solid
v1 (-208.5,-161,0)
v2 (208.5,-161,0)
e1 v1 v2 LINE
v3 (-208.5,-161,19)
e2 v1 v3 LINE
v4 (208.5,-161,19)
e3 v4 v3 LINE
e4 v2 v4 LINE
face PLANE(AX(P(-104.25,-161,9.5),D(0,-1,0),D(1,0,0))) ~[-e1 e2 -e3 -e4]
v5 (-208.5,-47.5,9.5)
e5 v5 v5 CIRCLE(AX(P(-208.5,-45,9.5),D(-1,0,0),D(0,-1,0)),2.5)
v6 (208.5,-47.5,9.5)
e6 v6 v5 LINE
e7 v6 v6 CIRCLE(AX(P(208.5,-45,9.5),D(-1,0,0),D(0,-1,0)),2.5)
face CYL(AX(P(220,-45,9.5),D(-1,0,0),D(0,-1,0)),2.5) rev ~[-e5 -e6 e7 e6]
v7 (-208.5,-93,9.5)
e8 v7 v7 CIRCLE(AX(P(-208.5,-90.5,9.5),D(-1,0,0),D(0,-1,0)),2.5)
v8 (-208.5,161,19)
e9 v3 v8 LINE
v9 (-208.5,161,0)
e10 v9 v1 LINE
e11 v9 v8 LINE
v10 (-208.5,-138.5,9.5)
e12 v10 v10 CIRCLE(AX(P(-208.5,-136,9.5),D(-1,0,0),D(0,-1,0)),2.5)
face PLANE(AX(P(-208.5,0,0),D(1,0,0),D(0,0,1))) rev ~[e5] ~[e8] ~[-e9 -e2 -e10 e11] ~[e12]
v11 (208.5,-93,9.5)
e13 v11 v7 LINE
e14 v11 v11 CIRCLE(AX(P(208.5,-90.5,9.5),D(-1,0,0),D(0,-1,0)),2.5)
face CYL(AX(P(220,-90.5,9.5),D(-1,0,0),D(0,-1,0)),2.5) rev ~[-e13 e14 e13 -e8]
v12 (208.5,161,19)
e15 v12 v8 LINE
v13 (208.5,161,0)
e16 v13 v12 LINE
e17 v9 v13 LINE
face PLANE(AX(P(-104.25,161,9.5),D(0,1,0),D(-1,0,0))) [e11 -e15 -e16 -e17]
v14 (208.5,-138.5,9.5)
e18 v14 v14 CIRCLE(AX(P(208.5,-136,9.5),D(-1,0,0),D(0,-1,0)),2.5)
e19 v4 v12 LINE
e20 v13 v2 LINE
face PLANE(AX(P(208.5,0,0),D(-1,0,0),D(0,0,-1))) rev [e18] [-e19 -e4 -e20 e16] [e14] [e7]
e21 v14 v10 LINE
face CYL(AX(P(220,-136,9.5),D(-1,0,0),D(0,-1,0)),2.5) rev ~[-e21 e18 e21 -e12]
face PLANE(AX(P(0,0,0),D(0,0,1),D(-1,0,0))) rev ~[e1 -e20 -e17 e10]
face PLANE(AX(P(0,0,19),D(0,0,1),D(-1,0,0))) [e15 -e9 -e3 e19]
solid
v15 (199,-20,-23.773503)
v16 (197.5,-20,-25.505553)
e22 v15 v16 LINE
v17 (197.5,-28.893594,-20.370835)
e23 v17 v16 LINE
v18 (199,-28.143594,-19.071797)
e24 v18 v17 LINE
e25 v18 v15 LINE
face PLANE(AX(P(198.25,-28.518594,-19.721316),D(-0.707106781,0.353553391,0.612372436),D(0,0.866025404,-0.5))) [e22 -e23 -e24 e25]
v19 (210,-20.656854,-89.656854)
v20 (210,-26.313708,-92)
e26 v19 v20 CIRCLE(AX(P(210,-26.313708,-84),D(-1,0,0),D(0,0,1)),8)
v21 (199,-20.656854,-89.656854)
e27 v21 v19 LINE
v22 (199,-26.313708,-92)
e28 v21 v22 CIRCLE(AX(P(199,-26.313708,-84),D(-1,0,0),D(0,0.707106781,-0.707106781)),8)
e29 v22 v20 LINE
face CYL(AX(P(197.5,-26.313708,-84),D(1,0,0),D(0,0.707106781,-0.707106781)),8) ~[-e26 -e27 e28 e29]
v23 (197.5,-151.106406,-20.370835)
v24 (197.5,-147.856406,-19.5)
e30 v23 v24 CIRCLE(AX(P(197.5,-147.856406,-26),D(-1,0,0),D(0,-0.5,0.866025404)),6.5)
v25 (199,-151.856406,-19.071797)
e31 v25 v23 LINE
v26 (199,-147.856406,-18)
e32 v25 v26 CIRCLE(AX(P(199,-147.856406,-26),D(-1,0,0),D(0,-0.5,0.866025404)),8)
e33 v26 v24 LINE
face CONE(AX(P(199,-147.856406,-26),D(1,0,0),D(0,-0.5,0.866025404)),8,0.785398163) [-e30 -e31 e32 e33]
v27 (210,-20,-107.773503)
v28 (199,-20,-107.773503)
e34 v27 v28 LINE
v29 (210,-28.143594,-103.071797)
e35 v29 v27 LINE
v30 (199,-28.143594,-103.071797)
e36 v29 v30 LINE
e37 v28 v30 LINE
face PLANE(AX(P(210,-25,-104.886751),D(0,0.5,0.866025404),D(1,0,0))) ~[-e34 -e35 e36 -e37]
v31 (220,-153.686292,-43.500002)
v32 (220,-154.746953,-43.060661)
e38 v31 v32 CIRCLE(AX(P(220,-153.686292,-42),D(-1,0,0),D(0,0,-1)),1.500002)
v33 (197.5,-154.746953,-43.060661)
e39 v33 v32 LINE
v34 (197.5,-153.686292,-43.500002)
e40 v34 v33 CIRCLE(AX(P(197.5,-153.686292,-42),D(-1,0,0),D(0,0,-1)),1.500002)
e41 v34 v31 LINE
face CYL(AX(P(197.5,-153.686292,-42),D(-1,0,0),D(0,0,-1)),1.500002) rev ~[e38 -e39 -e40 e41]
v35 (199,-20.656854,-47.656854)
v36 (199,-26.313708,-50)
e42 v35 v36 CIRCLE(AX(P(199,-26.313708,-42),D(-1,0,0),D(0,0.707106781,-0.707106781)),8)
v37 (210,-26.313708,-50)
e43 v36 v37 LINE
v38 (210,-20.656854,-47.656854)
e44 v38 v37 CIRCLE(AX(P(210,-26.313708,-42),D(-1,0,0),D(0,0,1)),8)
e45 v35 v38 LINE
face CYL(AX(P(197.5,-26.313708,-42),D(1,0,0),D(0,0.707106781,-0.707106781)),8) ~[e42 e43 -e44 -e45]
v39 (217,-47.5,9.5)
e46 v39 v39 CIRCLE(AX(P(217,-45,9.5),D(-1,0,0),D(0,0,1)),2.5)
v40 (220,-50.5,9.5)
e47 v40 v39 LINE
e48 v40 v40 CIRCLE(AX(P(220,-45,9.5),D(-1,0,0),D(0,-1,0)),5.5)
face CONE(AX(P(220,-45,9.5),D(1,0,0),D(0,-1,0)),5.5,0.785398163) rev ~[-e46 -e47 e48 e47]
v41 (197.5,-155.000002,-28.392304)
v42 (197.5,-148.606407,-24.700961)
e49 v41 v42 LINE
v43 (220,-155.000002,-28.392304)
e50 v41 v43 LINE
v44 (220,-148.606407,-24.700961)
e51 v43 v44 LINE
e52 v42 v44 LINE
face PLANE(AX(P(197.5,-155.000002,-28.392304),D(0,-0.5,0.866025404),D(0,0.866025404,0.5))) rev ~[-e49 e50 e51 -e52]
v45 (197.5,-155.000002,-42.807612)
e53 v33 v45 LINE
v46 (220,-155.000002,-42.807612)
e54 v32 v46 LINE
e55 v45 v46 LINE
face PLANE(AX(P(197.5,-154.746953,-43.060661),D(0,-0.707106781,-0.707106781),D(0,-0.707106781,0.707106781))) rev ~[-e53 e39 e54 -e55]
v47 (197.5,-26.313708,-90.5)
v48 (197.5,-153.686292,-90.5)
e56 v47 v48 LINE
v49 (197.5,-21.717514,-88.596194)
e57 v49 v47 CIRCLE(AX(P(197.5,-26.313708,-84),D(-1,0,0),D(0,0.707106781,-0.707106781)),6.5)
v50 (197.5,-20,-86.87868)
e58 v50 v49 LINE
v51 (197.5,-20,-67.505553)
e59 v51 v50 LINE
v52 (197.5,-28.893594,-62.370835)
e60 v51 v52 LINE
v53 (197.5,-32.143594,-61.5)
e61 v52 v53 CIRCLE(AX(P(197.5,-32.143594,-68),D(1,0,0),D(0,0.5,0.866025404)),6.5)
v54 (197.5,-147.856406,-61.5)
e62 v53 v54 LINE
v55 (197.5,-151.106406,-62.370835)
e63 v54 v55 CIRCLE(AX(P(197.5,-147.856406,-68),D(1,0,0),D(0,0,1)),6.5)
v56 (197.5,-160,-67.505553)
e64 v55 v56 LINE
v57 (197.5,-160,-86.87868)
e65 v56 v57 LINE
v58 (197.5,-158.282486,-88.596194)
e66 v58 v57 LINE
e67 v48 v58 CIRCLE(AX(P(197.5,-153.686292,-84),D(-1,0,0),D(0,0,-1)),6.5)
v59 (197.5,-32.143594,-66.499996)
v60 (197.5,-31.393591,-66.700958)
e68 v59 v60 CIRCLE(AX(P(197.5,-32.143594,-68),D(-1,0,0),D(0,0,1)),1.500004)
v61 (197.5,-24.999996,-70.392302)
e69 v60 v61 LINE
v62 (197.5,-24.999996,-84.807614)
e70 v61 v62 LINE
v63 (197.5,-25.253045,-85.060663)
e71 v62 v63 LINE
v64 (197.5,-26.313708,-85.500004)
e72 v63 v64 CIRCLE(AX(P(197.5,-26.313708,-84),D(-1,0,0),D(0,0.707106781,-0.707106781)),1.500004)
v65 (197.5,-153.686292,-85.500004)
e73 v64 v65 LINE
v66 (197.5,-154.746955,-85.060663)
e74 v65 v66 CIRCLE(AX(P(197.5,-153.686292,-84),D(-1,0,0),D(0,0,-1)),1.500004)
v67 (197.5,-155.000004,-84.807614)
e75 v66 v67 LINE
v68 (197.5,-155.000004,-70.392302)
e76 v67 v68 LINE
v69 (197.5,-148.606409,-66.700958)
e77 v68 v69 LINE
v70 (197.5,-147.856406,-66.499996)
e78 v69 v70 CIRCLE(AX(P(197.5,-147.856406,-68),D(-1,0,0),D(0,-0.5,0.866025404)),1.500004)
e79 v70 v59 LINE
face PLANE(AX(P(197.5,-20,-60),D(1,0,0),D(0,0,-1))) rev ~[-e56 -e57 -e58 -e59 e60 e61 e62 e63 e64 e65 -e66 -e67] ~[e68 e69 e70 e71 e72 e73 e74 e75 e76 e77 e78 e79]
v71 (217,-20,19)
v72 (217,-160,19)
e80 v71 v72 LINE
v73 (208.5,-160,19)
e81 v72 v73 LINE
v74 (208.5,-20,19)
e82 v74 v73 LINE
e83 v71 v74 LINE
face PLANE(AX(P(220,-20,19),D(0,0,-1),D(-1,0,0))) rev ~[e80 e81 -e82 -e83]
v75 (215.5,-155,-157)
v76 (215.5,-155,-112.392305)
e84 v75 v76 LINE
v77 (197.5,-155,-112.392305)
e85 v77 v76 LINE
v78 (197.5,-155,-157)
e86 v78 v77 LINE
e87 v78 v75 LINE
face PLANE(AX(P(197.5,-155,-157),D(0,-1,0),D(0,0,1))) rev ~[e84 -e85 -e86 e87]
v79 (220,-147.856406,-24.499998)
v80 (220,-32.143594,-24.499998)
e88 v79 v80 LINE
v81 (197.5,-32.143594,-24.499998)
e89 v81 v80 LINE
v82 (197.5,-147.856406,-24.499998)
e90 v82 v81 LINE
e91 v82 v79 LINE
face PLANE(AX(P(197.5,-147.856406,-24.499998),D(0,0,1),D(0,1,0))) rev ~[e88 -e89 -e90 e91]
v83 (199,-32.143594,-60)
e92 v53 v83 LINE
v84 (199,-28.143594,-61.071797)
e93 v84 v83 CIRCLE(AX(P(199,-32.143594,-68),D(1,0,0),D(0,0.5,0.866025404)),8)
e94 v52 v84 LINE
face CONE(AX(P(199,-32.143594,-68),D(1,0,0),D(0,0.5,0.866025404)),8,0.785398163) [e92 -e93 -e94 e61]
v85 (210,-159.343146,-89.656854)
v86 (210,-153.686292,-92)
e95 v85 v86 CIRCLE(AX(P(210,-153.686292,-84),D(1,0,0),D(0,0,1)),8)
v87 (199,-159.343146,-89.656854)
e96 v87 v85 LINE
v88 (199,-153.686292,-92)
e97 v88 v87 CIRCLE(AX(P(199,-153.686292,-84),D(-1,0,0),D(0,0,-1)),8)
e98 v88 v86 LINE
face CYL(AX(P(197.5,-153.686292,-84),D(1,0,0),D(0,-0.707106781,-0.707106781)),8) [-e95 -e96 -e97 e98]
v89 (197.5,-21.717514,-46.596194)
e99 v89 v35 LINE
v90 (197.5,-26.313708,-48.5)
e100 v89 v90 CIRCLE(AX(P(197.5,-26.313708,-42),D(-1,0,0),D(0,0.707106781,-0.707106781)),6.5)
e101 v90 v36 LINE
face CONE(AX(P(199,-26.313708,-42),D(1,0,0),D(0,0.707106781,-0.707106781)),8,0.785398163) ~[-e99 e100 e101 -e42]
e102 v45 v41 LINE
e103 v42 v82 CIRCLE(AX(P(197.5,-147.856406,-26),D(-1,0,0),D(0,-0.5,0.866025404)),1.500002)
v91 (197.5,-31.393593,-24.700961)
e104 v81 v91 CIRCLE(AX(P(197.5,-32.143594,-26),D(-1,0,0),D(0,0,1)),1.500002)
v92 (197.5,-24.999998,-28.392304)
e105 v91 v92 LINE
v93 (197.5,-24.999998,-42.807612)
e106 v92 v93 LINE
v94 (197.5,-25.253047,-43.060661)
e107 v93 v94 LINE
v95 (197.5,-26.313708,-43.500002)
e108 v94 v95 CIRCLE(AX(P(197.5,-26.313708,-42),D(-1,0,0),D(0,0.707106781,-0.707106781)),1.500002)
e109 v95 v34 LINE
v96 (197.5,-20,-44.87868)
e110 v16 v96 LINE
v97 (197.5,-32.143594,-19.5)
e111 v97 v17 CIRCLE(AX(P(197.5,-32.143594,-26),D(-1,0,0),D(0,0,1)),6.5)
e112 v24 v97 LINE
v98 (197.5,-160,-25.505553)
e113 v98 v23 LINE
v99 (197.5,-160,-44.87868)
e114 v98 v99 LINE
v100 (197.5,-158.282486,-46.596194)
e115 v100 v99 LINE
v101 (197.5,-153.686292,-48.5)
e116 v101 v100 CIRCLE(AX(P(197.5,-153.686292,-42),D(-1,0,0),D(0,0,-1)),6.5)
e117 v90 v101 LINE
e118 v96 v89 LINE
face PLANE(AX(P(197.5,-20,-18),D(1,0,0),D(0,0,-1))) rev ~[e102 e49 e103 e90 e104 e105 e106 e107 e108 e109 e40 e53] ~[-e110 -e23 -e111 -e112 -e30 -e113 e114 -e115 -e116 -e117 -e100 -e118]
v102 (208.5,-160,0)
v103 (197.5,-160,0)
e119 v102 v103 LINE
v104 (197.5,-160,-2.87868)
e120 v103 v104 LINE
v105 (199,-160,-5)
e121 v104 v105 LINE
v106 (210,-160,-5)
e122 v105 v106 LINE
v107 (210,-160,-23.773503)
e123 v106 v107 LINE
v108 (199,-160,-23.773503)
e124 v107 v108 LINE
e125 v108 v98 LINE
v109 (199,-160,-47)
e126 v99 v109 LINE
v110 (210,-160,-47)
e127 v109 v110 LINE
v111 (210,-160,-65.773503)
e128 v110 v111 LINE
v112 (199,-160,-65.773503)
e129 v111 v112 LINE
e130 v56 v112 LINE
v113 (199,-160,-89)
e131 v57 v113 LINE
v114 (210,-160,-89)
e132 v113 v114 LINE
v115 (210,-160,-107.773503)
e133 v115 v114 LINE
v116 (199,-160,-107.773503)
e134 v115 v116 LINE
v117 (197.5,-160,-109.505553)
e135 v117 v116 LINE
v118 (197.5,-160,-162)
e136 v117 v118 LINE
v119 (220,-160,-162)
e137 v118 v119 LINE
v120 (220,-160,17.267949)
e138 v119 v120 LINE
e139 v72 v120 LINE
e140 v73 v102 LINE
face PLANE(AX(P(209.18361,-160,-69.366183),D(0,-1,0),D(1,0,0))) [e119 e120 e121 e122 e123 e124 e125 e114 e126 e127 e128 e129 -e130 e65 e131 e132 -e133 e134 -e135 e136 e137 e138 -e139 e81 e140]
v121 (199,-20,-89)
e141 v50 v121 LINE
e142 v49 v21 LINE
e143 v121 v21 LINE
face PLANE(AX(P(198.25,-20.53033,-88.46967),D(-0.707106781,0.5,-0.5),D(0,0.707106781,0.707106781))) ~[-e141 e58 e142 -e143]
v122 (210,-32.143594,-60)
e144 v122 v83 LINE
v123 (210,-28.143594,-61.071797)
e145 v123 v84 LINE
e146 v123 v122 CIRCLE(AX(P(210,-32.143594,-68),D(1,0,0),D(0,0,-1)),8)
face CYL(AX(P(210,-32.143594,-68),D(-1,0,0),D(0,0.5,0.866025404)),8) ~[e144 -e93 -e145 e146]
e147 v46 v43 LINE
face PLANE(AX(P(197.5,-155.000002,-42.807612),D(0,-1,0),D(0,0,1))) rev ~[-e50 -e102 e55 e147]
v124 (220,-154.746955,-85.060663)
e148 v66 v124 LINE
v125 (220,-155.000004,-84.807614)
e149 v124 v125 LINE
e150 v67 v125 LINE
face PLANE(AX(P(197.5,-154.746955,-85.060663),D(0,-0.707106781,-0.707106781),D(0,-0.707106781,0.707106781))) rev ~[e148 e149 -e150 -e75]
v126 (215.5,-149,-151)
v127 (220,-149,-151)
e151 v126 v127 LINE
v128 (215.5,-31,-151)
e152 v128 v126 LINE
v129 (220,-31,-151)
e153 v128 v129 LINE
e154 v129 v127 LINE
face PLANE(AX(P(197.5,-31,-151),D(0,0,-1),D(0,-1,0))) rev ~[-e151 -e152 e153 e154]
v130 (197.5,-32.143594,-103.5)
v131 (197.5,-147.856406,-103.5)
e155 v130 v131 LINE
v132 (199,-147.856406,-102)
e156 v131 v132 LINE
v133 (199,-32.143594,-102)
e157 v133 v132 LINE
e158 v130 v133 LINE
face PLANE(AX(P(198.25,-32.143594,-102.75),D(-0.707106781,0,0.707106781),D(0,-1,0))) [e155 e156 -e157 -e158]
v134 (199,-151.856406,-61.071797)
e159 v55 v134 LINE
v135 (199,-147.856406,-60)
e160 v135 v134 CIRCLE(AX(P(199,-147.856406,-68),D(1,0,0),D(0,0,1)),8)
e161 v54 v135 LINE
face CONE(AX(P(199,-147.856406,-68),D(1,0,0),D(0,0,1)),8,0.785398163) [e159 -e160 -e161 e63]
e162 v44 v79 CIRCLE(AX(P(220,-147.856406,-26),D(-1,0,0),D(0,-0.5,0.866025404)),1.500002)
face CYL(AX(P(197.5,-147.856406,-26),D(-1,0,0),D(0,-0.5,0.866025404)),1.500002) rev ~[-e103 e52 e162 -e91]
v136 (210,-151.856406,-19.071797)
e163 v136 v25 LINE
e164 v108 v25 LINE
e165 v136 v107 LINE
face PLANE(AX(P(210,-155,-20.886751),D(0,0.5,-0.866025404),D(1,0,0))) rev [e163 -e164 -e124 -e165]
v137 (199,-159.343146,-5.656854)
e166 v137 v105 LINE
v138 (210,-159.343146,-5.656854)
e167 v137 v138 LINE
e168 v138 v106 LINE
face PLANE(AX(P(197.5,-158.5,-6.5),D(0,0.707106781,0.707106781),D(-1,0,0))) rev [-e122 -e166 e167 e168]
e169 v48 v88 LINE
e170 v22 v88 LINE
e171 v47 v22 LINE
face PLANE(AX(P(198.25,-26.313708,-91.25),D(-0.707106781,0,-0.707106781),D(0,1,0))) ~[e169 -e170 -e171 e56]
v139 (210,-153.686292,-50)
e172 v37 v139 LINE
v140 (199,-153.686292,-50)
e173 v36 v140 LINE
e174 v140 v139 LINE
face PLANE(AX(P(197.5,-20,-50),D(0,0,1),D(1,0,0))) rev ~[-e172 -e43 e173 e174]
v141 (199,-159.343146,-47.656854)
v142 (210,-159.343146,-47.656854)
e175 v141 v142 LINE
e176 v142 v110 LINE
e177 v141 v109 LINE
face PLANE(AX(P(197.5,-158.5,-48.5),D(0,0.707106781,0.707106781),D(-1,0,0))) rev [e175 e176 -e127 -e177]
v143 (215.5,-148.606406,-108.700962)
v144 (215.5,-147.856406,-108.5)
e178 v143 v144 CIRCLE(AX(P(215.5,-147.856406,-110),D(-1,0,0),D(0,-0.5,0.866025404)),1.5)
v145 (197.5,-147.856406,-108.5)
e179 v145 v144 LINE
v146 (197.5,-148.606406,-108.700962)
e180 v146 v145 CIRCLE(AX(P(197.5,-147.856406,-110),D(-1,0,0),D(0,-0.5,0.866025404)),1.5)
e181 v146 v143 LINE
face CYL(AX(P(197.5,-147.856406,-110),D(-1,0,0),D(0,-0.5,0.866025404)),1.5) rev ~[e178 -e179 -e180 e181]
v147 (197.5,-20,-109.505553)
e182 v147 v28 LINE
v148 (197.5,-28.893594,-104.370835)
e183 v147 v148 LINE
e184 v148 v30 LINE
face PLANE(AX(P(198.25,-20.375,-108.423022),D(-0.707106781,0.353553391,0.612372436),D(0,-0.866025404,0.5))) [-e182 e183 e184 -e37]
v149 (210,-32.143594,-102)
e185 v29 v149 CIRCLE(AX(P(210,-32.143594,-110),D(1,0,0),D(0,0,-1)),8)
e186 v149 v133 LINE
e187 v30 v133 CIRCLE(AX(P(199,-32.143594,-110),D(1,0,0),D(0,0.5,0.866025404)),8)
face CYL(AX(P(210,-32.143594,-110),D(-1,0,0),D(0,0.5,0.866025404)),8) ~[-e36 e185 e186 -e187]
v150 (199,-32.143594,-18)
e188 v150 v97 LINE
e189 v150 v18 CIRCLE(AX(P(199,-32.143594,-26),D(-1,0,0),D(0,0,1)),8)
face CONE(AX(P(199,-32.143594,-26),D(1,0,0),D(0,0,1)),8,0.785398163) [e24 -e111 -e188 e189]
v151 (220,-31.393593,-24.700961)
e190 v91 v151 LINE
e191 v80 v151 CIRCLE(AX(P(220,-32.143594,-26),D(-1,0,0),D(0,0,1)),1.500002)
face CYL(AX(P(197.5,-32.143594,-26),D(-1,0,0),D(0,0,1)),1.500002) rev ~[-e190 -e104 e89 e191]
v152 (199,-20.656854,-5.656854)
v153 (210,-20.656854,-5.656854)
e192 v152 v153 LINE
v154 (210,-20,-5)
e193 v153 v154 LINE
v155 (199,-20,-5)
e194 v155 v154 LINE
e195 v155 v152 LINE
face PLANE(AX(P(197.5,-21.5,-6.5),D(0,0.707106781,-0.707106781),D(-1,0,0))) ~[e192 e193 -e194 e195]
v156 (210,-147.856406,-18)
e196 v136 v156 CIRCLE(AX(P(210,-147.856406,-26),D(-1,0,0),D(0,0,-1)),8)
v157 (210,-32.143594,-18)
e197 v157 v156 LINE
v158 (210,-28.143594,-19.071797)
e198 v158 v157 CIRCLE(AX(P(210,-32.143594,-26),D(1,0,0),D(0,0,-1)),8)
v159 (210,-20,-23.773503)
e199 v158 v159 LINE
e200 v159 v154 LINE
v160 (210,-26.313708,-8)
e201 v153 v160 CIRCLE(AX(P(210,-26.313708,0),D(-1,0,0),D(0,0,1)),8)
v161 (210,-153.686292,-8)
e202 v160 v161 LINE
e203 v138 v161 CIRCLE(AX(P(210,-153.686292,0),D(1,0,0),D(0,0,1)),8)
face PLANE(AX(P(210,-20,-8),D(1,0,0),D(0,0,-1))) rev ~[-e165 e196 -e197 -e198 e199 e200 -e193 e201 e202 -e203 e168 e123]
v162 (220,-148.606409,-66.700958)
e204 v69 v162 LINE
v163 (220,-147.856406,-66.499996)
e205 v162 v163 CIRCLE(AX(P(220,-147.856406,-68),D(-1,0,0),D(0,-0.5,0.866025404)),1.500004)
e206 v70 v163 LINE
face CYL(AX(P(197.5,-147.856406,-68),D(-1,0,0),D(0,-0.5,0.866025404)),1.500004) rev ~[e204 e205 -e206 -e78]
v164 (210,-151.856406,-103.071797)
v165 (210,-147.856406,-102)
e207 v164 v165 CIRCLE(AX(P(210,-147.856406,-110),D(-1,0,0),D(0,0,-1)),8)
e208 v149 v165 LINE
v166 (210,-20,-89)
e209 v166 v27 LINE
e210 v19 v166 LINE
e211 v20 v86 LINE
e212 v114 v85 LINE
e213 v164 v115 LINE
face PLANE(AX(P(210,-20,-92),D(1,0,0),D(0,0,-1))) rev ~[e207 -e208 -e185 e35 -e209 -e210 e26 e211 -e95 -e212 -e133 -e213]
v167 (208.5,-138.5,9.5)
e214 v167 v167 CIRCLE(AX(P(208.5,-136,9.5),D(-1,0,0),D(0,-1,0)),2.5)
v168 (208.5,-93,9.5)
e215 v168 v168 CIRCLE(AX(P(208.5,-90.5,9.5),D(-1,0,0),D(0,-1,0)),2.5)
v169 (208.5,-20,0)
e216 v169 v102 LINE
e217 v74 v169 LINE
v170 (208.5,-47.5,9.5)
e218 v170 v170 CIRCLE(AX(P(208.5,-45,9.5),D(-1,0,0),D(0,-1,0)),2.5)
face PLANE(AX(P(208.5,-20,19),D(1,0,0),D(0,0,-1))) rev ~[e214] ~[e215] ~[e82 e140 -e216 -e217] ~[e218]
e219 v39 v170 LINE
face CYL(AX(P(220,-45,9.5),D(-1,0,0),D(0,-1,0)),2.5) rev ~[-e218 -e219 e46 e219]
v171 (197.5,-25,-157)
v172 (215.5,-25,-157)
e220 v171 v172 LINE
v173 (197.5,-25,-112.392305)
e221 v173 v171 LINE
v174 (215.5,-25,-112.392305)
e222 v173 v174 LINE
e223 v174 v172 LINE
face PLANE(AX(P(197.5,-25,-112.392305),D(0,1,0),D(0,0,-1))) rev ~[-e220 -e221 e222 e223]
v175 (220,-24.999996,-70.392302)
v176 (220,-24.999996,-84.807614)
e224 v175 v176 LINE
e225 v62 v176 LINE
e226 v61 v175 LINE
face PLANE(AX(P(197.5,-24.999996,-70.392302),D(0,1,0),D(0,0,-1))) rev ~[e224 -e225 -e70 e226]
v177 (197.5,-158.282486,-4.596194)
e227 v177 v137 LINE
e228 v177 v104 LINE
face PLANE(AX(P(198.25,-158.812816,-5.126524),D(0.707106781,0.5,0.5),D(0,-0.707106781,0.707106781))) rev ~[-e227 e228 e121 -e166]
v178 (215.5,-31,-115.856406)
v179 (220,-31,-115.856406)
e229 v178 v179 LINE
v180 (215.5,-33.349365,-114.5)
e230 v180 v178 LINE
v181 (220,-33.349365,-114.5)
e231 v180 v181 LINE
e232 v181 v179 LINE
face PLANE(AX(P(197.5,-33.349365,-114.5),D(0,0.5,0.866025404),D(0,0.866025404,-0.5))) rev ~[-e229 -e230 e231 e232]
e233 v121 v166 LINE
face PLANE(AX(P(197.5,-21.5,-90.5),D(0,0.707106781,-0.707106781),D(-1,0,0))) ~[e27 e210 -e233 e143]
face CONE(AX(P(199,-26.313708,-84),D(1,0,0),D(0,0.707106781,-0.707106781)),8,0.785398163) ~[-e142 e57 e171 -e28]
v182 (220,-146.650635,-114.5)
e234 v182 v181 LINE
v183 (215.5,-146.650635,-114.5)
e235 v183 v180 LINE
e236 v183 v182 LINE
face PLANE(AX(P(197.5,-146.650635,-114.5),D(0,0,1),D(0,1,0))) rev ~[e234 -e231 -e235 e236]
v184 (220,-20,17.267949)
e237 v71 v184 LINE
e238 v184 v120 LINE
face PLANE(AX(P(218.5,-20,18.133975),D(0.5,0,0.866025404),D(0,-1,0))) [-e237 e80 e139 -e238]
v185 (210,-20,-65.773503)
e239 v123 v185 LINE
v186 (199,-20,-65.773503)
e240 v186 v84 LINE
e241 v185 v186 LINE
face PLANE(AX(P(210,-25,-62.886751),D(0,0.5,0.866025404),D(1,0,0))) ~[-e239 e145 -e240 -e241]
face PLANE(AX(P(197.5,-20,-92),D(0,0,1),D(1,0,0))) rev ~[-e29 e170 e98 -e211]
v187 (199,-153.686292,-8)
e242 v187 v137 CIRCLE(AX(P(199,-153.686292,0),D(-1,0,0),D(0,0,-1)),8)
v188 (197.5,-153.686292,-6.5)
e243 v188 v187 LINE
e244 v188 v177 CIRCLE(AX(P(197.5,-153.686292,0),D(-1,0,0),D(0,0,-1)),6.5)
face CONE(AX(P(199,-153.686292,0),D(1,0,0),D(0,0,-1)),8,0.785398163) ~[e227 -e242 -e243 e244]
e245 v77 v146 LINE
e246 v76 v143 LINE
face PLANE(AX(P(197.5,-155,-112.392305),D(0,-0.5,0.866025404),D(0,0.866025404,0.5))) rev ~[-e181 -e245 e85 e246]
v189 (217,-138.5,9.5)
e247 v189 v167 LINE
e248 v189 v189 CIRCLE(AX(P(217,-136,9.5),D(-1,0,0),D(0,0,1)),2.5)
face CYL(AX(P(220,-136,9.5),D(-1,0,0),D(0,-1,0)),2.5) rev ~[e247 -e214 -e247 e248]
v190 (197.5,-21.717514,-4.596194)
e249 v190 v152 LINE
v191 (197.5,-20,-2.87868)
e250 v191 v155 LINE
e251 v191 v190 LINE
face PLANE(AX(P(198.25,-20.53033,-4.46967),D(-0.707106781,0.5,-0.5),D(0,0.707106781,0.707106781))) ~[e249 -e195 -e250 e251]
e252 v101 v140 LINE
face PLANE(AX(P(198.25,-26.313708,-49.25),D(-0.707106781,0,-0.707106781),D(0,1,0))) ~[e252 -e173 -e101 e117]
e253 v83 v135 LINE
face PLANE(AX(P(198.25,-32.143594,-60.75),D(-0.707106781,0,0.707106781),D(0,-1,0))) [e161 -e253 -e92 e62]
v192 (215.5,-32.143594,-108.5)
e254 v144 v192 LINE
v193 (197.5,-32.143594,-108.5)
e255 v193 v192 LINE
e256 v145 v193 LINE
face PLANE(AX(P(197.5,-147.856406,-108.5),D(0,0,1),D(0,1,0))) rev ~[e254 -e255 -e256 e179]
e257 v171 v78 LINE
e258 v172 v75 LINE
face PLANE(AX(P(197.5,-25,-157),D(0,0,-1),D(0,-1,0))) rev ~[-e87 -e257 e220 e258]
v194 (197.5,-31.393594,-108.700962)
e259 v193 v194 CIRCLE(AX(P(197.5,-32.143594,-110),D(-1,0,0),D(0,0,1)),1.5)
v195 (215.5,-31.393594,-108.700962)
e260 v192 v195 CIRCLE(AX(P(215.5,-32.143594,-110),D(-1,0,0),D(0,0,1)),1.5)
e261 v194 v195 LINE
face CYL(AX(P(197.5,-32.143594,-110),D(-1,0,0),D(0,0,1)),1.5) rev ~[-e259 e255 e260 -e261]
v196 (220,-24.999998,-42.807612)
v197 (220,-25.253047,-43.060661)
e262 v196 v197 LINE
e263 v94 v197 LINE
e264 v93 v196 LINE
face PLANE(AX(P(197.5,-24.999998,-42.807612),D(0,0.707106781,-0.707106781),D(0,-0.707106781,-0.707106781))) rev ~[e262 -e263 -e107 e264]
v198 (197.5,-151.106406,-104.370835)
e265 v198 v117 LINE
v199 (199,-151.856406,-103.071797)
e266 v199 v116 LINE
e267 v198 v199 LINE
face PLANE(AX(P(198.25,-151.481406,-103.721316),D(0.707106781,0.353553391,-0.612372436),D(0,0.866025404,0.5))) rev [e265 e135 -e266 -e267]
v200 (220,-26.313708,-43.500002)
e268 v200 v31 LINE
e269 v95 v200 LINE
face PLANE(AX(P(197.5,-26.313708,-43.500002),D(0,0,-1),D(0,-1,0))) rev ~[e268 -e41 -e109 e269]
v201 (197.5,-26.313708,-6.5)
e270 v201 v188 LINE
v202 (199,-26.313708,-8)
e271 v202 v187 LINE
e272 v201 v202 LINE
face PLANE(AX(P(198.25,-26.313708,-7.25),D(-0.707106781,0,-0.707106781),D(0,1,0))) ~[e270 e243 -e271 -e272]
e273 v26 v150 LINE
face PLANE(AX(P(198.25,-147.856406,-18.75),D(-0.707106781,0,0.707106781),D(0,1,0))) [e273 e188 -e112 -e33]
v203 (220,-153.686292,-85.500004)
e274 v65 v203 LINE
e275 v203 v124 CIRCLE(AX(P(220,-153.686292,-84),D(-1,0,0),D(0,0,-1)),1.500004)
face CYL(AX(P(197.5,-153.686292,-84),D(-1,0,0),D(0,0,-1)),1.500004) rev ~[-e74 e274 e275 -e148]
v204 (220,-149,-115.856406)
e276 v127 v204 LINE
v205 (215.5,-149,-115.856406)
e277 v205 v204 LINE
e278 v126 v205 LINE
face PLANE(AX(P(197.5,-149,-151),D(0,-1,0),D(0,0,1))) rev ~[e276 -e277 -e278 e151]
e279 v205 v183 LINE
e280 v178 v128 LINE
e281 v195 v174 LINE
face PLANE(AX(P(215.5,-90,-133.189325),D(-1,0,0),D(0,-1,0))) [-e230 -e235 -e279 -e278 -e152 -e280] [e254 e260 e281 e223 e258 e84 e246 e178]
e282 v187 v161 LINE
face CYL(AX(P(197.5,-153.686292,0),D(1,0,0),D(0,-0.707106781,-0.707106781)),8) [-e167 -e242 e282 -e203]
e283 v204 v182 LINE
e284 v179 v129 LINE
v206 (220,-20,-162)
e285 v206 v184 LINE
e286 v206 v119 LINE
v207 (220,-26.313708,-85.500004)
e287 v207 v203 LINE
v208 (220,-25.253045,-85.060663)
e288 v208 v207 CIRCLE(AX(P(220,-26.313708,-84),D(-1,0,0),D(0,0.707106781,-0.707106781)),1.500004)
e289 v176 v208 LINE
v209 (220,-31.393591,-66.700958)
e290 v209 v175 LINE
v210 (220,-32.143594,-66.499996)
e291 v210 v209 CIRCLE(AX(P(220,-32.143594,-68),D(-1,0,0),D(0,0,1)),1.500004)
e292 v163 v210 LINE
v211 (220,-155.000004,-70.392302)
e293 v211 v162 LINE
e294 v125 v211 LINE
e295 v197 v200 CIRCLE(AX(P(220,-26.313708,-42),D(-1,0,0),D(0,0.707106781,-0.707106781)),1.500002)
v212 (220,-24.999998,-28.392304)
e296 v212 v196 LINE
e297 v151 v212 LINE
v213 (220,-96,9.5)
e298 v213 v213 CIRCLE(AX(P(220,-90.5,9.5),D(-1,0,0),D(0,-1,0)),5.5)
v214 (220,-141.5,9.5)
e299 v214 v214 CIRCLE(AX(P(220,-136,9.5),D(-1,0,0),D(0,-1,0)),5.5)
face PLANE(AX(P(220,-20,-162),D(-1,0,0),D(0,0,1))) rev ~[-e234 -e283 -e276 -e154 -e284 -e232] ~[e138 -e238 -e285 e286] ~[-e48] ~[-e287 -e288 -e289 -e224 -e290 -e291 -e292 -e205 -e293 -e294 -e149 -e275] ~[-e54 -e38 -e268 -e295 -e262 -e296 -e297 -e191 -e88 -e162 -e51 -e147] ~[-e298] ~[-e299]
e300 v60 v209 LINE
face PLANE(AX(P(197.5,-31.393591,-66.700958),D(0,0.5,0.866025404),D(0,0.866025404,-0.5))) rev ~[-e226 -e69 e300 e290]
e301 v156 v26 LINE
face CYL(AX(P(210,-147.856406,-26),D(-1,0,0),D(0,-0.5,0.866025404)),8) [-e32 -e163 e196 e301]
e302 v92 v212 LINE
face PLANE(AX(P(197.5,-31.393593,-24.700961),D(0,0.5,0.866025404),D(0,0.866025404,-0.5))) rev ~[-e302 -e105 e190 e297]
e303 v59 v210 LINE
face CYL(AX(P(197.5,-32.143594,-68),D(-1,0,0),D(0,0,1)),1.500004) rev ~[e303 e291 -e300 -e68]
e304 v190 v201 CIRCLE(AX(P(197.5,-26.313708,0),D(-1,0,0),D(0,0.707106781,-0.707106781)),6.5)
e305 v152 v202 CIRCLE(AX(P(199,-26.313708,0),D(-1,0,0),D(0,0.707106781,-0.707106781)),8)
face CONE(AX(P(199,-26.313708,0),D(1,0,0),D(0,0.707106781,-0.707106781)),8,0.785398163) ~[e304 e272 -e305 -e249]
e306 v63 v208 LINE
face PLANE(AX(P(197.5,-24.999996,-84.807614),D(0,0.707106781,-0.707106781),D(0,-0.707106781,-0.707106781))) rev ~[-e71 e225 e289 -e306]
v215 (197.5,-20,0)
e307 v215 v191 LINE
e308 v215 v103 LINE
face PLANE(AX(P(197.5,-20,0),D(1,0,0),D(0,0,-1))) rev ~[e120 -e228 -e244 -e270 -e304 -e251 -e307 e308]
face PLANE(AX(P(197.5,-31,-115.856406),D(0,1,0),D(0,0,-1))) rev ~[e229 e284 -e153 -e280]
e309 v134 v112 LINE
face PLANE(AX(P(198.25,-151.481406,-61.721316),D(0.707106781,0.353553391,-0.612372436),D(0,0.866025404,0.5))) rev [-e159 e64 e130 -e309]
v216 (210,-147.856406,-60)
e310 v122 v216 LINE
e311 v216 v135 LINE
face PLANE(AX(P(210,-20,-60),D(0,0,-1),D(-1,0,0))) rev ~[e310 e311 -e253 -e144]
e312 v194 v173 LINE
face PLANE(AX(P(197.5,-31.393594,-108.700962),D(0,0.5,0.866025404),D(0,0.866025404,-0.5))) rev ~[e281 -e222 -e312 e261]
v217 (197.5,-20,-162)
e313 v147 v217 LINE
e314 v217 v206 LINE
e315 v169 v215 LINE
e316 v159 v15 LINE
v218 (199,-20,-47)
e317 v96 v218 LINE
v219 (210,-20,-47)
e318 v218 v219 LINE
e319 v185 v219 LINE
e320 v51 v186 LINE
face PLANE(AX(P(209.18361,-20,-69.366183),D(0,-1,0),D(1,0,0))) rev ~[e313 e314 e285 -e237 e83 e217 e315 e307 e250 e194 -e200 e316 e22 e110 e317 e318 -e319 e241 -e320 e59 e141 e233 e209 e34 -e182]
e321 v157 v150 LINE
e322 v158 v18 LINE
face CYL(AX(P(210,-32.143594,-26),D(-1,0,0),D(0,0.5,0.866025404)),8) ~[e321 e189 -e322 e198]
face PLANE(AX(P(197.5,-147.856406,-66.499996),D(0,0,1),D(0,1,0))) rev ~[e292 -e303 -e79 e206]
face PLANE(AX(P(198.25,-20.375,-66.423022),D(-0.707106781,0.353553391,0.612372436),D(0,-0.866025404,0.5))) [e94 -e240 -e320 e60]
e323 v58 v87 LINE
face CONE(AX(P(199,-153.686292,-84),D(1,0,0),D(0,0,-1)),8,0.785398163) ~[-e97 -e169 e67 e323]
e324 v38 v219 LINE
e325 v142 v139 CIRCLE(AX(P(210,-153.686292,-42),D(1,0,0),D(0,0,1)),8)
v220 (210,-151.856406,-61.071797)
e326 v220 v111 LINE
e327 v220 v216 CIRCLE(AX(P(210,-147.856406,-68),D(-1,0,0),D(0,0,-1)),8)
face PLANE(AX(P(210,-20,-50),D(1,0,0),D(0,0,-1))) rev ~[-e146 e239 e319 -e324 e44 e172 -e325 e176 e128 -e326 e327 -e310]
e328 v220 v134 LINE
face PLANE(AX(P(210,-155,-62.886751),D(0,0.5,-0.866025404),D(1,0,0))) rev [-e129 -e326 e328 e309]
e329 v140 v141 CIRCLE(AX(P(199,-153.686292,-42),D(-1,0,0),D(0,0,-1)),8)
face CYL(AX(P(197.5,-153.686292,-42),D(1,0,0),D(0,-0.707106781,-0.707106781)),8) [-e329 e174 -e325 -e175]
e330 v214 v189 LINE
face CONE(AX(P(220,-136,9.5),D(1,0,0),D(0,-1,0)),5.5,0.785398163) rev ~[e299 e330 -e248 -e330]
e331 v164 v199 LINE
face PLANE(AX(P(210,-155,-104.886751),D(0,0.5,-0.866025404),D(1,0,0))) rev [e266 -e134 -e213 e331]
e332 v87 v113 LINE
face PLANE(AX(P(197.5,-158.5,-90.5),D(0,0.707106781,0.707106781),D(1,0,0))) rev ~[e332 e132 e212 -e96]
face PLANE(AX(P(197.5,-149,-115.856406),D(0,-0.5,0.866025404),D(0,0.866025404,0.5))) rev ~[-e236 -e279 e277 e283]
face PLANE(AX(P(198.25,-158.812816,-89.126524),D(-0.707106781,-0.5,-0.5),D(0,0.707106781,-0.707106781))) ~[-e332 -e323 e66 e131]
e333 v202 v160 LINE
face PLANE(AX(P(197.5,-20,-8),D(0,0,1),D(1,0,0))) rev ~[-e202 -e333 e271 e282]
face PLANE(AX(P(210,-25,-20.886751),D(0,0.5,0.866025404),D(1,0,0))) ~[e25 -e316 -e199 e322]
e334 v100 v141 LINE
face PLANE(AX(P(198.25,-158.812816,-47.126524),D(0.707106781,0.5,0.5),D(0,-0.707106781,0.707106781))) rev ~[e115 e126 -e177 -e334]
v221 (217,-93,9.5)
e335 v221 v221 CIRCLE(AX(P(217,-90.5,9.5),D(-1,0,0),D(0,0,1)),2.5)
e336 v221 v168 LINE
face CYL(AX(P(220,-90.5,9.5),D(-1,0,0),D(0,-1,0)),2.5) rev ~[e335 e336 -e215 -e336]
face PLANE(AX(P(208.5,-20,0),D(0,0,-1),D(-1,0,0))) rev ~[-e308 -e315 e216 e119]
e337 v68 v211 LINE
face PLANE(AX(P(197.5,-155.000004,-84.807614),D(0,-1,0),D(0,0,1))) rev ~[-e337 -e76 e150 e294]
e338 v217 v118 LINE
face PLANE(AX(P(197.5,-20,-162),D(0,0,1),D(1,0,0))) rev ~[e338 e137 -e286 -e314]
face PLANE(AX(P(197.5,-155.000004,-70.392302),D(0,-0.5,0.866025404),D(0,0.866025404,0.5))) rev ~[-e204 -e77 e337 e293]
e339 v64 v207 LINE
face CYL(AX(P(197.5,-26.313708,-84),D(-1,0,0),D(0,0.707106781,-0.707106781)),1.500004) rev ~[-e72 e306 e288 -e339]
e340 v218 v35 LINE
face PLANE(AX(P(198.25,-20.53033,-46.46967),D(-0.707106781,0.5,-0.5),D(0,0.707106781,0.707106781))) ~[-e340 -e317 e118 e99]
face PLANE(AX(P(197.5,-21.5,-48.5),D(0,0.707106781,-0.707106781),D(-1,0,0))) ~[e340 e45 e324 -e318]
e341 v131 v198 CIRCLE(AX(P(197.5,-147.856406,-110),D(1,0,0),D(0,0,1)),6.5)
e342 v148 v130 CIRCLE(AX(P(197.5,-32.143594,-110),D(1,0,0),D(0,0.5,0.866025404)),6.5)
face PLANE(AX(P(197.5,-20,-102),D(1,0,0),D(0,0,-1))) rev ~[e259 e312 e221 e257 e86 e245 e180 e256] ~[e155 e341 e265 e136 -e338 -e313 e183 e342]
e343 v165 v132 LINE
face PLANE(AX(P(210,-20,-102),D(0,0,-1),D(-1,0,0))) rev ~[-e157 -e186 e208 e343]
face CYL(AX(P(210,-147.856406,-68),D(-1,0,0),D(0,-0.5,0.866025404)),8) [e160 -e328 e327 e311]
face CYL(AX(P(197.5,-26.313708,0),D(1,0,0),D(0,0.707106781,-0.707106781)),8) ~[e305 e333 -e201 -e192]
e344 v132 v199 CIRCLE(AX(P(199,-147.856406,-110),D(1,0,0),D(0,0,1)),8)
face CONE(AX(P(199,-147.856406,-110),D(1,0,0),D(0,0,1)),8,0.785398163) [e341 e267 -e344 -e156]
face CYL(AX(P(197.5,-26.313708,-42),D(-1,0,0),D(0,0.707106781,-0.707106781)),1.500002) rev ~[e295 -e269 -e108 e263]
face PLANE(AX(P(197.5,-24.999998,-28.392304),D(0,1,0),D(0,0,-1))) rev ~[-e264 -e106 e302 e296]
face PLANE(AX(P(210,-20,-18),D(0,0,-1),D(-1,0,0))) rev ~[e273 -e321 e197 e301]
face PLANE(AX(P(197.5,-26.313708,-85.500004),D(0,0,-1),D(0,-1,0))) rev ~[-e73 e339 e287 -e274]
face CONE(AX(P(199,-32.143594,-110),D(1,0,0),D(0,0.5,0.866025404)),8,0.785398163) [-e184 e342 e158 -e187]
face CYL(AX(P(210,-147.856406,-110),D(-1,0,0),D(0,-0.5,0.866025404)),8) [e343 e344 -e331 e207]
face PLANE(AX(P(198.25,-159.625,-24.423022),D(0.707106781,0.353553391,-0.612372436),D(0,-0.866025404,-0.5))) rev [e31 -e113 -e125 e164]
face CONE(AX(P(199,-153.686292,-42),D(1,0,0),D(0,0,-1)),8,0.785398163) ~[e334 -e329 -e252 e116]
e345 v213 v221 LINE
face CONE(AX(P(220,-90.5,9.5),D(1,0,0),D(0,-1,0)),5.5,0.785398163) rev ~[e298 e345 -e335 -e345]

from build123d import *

# Parameters (mm, degrees)
F0_W              = 208.5
F0_H              = 19
F1_DEPTH          = 161
F5_START          = 20
F5_DEPTH          = 140
F6_SIZE2          = 5.7735026919
F6_SIZE           = 10
F6_2_SIZE2        = 5.7735026919
F6_2_SIZE         = 10
F6_3_SIZE2        = 5.7735026919
F6_3_SIZE         = 10
F7_SIZE2          = 5.7735026919
F7_SIZE           = 10
F7_2_SIZE2        = 5.7735026919
F7_2_SIZE         = 10
F7_3_SIZE2        = 5.7735026919
F7_3_SIZE         = 10
F8_SIZE           = 3
F9_SIZE2          = 1.7320508076
F9_SIZE           = 3
F10_R             = 8
F11_SIZE          = 1.5
F13_DEPTH         = 22.5
F15_D             = 5
F15_CSINK_D       = 11
F15_CSINK_ANGLE   = 90
F15_2_D           = 5
F15_2_CSINK_D     = 11
F15_2_CSINK_ANGLE = 90
F16_DEPTH         = 18
F18_DEPTH         = 22.501


with BuildPart() as f1:
    # F0 (on Front) → F1 (new body)
    with BuildSketch(Plane.XZ):
        with Locations((104.25, 9.5)):
            Rectangle(F0_W, F0_H)
    extrude(amount=F1_DEPTH)

    # F2: F1 across face


with BuildPart() as f1_1:
    add(f1.part)
    add(f1.part.mirror(Plane(origin=(104.25, 0, 9.5), x_dir=(1, 0, 0), z_dir=(0, 1, 0))))

    # F3: F1 across face


with BuildPart() as f1_2:
    add(f1_1.part)
    add(f1_1.part.mirror(Plane(origin=(0, 0, 9.5), x_dir=(0, -1, 0), z_dir=(-1, 0, 0))))

    # F15 (through all)
    with Locations(Plane.YZ.offset(220)):
        with Locations((-136, 9.5), (-90.5, 9.5), (-45, 9.5)):
            CounterSinkHole(F15_D / 2, F15_CSINK_D / 2, counter_sink_angle=F15_CSINK_ANGLE)


with BuildPart() as f5:
    # F4 (on Front) → F5 (new body)
    with BuildSketch(Plane.XZ.offset(F5_START)):
        Polygon((220, 19), (208.5, 19), (208.5, 0), (197.5, 0), (197.5, -8), (210, -8), (210, -18), (197.5, -18), (197.5, -50), (210, -50), (210, -60), (197.5, -60), (197.5, -92), (210, -92), (210, -102), (197.5, -102), (197.5, -162), (220, -162), align=None)
    extrude(amount=F5_DEPTH)

    # F6
    f6_edges = [f5.edges().sort_by_distance(p)[0] for p in [
        (203.75, -160, -18),
    ]]
    f6_side = f5.faces().sort_by_distance((203.75, -90, -18))[0]
    chamfer(f6_edges, length=F6_SIZE, length2=F6_SIZE2, reference=f6_side)

    # F6#2
    f6_2_edges = [f5.edges().sort_by_distance(p)[0] for p in [
        (203.75, -160, -60),
    ]]
    f6_2_side = f5.faces().sort_by_distance((203.75, -90, -60))[0]
    chamfer(f6_2_edges, length=F6_2_SIZE, length2=F6_2_SIZE2, reference=f6_2_side)

    # F6#3
    f6_3_edges = [f5.edges().sort_by_distance(p)[0] for p in [
        (203.75, -160, -102),
    ]]
    f6_3_side = f5.faces().sort_by_distance((203.75, -90, -102))[0]
    chamfer(f6_3_edges, length=F6_3_SIZE, length2=F6_3_SIZE2, reference=f6_3_side)

    # F7
    f7_edges = [f5.edges().sort_by_distance(p)[0] for p in [
        (203.75, -20, -18),
    ]]
    f7_side = f5.faces().sort_by_distance((203.75, -85, -18))[0]
    chamfer(f7_edges, length=F7_SIZE, length2=F7_SIZE2, reference=f7_side)

    # F7#2
    f7_2_edges = [f5.edges().sort_by_distance(p)[0] for p in [
        (203.75, -20, -60),
    ]]
    f7_2_side = f5.faces().sort_by_distance((203.75, -85, -60))[0]
    chamfer(f7_2_edges, length=F7_2_SIZE, length2=F7_2_SIZE2, reference=f7_2_side)

    # F7#3
    f7_3_edges = [f5.edges().sort_by_distance(p)[0] for p in [
        (203.75, -20, -102),
    ]]
    f7_3_side = f5.faces().sort_by_distance((203.75, -85, -102))[0]
    chamfer(f7_3_edges, length=F7_3_SIZE, length2=F7_3_SIZE2, reference=f7_3_side)

    # F8
    f8_edges = [f5.edges().sort_by_distance(p)[0] for p in [
        (203.75, -20, -8),
        (203.75, -20, -50),
        (203.75, -20, -92),
        (203.75, -160, -92),
        (203.75, -160, -50),
        (203.75, -160, -8),
    ]]
    chamfer(f8_edges, length=F8_SIZE)

    # F9
    f9_edges = [f5.edges().sort_by_distance(p)[0] for p in [
        (220, -90, 19),
    ]]
    f9_side = f5.faces().sort_by_distance((214.25, -90, 19))[0]
    chamfer(f9_edges, length=F9_SIZE, length2=F9_SIZE2, reference=f9_side)

    # F10
    f10_edges = [f5.edges().sort_by_distance(p)[0] for p in [
        (203.75, -30, -102),
        (203.75, -150, -102),
        (203.75, -150, -60),
        (203.75, -150, -18),
        (203.75, -30, -60),
        (203.75, -30, -18),
        (203.75, -23, -8),
        (203.75, -157, -8),
        (203.75, -23, -50),
        (203.75, -23, -92),
        (203.75, -157, -92),
        (203.75, -157, -50),
    ]]
    fillet(f10_edges, radius=F10_R)

    # F11
    f11_edges = [f5.edges().sort_by_distance(p)[0] for p in [
        (197.5, -24.071797, -21.42265),
        (197.5, -90, -8),
        (197.5, -90, -50),
        (197.5, -90, -60),
        (197.5, -90, -102),
        (197.5, -90, -92),
    ]]
    chamfer(f11_edges, length=F11_SIZE)

    # F12 (on face) → F13 (cut, through all)
    with BuildSketch(Plane(origin=(197.5, 0, 0), x_dir=(0, -1, 0), z_dir=(-1, 0, 0))):
        with BuildLine():
            ThreePointArc((25.2530472132, -43.0606612857), (25.7396827476, -43.3858207542), (26.313708499, -43.5000015754))
            Line((26.313708499, -43.5000015754), (153.686291501, -43.5000015754))
            ThreePointArc((153.686291501, -43.5000015754), (154.2603172524, -43.3858207542), (154.7469527868, -43.0606612857))
            Line((154.7469527868, -43.0606612857), (155.0000015754, -42.8076124971))
            Line((155.0000015754, -42.8076124971), (155.0000015754, -28.3923039359))
            Line((155.0000015754, -28.3923039359), (148.6064072482, -24.70096053))
            ThreePointArc((148.6064072482, -24.70096053), (148.2446354359, -24.5511097389), (147.8564064606, -24.4999984246))
            Line((147.8564064606, -24.4999984246), (32.1435935394, -24.4999984246))
            ThreePointArc((32.1435935394, -24.4999984246), (31.7553645641, -24.5511097389), (31.3935927518, -24.70096053))
            Line((31.3935927518, -24.70096053), (24.9999984246, -28.3923039359))
            Line((24.9999984246, -28.3923039359), (24.9999984246, -42.8076124971))
            Line((24.9999984246, -42.8076124971), (25.2530472132, -43.0606612857))
        make_face()
        with BuildLine():
            ThreePointArc((25.2530451495, -85.0606633495), (25.7396816307, -85.3858234506), (26.313708499, -85.5000044939))
            Line((26.313708499, -85.5000044939), (153.686291501, -85.5000044939))
            ThreePointArc((153.686291501, -85.5000044939), (154.2603183693, -85.3858234506), (154.7469548505, -85.0606633495))
            Line((154.7469548505, -85.0606633495), (155.0000044939, -84.807613706))
            Line((155.0000044939, -84.807613706), (155.0000044939, -70.3923022508))
            Line((155.0000044939, -70.3923022508), (148.6064087075, -66.7009580025))
            ThreePointArc((148.6064087075, -66.7009580025), (148.2446361913, -66.5511069197), (147.8564064606, -66.4999955061))
            Line((147.8564064606, -66.4999955061), (32.1435935394, -66.4999955061))
            ThreePointArc((32.1435935394, -66.4999955061), (31.7553638087, -66.5511069197), (31.3935912925, -66.7009580025))
            Line((31.3935912925, -66.7009580025), (24.9999955061, -70.3923022508))
            Line((24.9999955061, -70.3923022508), (24.9999955061, -84.807613706))
            Line((24.9999955061, -84.807613706), (25.2530451495, -85.0606633495))
        make_face()
    extrude(amount=-F13_DEPTH, mode=Mode.SUBTRACT)

    # F15#2 (through all)
    with Locations(Plane.YZ.offset(220)):
        with Locations((-136, 9.5), (-90.5, 9.5), (-45, 9.5)):
            CounterSinkHole(F15_2_D / 2, F15_2_CSINK_D / 2, counter_sink_angle=F15_2_CSINK_ANGLE)

    # F12 (on face) → F16 (cut)
    with BuildSketch(Plane(origin=(197.5, 0, 0), x_dir=(0, -1, 0), z_dir=(-1, 0, 0))):
        with BuildLine():
            Line((25, -112.3923048454), (25, -157))
            Line((25, -157), (155, -157))
            Line((155, -157), (155, -112.3923048454))
            Line((155, -112.3923048454), (148.6064064606, -108.7009618943))
            ThreePointArc((148.6064064606, -108.7009618943), (148.2446350282, -108.5511112606), (147.8564064606, -108.5))
            Line((147.8564064606, -108.5), (32.1435935394, -108.5))
            ThreePointArc((32.1435935394, -108.5), (31.7553649718, -108.5511112606), (31.3935935394, -108.7009618943))
            Line((31.3935935394, -108.7009618943), (25, -112.3923048454))
        make_face()
    extrude(amount=-F16_DEPTH, mode=Mode.SUBTRACT)

    # F17 (on face) → F18 (cut, through all)
    with BuildSketch(Plane(origin=(197.5, 0, 0), x_dir=(0, -1, 0), z_dir=(-1, 0, 0))):
        Polygon((149, -151), (149, -115.8564064606), (146.6506350946, -114.5), (33.3493649054, -114.5), (31, -115.8564064606), (31, -151), align=None)
    extrude(amount=-F18_DEPTH, mode=Mode.SUBTRACT)


solid = Compound([f1_2.part, f5.part])
